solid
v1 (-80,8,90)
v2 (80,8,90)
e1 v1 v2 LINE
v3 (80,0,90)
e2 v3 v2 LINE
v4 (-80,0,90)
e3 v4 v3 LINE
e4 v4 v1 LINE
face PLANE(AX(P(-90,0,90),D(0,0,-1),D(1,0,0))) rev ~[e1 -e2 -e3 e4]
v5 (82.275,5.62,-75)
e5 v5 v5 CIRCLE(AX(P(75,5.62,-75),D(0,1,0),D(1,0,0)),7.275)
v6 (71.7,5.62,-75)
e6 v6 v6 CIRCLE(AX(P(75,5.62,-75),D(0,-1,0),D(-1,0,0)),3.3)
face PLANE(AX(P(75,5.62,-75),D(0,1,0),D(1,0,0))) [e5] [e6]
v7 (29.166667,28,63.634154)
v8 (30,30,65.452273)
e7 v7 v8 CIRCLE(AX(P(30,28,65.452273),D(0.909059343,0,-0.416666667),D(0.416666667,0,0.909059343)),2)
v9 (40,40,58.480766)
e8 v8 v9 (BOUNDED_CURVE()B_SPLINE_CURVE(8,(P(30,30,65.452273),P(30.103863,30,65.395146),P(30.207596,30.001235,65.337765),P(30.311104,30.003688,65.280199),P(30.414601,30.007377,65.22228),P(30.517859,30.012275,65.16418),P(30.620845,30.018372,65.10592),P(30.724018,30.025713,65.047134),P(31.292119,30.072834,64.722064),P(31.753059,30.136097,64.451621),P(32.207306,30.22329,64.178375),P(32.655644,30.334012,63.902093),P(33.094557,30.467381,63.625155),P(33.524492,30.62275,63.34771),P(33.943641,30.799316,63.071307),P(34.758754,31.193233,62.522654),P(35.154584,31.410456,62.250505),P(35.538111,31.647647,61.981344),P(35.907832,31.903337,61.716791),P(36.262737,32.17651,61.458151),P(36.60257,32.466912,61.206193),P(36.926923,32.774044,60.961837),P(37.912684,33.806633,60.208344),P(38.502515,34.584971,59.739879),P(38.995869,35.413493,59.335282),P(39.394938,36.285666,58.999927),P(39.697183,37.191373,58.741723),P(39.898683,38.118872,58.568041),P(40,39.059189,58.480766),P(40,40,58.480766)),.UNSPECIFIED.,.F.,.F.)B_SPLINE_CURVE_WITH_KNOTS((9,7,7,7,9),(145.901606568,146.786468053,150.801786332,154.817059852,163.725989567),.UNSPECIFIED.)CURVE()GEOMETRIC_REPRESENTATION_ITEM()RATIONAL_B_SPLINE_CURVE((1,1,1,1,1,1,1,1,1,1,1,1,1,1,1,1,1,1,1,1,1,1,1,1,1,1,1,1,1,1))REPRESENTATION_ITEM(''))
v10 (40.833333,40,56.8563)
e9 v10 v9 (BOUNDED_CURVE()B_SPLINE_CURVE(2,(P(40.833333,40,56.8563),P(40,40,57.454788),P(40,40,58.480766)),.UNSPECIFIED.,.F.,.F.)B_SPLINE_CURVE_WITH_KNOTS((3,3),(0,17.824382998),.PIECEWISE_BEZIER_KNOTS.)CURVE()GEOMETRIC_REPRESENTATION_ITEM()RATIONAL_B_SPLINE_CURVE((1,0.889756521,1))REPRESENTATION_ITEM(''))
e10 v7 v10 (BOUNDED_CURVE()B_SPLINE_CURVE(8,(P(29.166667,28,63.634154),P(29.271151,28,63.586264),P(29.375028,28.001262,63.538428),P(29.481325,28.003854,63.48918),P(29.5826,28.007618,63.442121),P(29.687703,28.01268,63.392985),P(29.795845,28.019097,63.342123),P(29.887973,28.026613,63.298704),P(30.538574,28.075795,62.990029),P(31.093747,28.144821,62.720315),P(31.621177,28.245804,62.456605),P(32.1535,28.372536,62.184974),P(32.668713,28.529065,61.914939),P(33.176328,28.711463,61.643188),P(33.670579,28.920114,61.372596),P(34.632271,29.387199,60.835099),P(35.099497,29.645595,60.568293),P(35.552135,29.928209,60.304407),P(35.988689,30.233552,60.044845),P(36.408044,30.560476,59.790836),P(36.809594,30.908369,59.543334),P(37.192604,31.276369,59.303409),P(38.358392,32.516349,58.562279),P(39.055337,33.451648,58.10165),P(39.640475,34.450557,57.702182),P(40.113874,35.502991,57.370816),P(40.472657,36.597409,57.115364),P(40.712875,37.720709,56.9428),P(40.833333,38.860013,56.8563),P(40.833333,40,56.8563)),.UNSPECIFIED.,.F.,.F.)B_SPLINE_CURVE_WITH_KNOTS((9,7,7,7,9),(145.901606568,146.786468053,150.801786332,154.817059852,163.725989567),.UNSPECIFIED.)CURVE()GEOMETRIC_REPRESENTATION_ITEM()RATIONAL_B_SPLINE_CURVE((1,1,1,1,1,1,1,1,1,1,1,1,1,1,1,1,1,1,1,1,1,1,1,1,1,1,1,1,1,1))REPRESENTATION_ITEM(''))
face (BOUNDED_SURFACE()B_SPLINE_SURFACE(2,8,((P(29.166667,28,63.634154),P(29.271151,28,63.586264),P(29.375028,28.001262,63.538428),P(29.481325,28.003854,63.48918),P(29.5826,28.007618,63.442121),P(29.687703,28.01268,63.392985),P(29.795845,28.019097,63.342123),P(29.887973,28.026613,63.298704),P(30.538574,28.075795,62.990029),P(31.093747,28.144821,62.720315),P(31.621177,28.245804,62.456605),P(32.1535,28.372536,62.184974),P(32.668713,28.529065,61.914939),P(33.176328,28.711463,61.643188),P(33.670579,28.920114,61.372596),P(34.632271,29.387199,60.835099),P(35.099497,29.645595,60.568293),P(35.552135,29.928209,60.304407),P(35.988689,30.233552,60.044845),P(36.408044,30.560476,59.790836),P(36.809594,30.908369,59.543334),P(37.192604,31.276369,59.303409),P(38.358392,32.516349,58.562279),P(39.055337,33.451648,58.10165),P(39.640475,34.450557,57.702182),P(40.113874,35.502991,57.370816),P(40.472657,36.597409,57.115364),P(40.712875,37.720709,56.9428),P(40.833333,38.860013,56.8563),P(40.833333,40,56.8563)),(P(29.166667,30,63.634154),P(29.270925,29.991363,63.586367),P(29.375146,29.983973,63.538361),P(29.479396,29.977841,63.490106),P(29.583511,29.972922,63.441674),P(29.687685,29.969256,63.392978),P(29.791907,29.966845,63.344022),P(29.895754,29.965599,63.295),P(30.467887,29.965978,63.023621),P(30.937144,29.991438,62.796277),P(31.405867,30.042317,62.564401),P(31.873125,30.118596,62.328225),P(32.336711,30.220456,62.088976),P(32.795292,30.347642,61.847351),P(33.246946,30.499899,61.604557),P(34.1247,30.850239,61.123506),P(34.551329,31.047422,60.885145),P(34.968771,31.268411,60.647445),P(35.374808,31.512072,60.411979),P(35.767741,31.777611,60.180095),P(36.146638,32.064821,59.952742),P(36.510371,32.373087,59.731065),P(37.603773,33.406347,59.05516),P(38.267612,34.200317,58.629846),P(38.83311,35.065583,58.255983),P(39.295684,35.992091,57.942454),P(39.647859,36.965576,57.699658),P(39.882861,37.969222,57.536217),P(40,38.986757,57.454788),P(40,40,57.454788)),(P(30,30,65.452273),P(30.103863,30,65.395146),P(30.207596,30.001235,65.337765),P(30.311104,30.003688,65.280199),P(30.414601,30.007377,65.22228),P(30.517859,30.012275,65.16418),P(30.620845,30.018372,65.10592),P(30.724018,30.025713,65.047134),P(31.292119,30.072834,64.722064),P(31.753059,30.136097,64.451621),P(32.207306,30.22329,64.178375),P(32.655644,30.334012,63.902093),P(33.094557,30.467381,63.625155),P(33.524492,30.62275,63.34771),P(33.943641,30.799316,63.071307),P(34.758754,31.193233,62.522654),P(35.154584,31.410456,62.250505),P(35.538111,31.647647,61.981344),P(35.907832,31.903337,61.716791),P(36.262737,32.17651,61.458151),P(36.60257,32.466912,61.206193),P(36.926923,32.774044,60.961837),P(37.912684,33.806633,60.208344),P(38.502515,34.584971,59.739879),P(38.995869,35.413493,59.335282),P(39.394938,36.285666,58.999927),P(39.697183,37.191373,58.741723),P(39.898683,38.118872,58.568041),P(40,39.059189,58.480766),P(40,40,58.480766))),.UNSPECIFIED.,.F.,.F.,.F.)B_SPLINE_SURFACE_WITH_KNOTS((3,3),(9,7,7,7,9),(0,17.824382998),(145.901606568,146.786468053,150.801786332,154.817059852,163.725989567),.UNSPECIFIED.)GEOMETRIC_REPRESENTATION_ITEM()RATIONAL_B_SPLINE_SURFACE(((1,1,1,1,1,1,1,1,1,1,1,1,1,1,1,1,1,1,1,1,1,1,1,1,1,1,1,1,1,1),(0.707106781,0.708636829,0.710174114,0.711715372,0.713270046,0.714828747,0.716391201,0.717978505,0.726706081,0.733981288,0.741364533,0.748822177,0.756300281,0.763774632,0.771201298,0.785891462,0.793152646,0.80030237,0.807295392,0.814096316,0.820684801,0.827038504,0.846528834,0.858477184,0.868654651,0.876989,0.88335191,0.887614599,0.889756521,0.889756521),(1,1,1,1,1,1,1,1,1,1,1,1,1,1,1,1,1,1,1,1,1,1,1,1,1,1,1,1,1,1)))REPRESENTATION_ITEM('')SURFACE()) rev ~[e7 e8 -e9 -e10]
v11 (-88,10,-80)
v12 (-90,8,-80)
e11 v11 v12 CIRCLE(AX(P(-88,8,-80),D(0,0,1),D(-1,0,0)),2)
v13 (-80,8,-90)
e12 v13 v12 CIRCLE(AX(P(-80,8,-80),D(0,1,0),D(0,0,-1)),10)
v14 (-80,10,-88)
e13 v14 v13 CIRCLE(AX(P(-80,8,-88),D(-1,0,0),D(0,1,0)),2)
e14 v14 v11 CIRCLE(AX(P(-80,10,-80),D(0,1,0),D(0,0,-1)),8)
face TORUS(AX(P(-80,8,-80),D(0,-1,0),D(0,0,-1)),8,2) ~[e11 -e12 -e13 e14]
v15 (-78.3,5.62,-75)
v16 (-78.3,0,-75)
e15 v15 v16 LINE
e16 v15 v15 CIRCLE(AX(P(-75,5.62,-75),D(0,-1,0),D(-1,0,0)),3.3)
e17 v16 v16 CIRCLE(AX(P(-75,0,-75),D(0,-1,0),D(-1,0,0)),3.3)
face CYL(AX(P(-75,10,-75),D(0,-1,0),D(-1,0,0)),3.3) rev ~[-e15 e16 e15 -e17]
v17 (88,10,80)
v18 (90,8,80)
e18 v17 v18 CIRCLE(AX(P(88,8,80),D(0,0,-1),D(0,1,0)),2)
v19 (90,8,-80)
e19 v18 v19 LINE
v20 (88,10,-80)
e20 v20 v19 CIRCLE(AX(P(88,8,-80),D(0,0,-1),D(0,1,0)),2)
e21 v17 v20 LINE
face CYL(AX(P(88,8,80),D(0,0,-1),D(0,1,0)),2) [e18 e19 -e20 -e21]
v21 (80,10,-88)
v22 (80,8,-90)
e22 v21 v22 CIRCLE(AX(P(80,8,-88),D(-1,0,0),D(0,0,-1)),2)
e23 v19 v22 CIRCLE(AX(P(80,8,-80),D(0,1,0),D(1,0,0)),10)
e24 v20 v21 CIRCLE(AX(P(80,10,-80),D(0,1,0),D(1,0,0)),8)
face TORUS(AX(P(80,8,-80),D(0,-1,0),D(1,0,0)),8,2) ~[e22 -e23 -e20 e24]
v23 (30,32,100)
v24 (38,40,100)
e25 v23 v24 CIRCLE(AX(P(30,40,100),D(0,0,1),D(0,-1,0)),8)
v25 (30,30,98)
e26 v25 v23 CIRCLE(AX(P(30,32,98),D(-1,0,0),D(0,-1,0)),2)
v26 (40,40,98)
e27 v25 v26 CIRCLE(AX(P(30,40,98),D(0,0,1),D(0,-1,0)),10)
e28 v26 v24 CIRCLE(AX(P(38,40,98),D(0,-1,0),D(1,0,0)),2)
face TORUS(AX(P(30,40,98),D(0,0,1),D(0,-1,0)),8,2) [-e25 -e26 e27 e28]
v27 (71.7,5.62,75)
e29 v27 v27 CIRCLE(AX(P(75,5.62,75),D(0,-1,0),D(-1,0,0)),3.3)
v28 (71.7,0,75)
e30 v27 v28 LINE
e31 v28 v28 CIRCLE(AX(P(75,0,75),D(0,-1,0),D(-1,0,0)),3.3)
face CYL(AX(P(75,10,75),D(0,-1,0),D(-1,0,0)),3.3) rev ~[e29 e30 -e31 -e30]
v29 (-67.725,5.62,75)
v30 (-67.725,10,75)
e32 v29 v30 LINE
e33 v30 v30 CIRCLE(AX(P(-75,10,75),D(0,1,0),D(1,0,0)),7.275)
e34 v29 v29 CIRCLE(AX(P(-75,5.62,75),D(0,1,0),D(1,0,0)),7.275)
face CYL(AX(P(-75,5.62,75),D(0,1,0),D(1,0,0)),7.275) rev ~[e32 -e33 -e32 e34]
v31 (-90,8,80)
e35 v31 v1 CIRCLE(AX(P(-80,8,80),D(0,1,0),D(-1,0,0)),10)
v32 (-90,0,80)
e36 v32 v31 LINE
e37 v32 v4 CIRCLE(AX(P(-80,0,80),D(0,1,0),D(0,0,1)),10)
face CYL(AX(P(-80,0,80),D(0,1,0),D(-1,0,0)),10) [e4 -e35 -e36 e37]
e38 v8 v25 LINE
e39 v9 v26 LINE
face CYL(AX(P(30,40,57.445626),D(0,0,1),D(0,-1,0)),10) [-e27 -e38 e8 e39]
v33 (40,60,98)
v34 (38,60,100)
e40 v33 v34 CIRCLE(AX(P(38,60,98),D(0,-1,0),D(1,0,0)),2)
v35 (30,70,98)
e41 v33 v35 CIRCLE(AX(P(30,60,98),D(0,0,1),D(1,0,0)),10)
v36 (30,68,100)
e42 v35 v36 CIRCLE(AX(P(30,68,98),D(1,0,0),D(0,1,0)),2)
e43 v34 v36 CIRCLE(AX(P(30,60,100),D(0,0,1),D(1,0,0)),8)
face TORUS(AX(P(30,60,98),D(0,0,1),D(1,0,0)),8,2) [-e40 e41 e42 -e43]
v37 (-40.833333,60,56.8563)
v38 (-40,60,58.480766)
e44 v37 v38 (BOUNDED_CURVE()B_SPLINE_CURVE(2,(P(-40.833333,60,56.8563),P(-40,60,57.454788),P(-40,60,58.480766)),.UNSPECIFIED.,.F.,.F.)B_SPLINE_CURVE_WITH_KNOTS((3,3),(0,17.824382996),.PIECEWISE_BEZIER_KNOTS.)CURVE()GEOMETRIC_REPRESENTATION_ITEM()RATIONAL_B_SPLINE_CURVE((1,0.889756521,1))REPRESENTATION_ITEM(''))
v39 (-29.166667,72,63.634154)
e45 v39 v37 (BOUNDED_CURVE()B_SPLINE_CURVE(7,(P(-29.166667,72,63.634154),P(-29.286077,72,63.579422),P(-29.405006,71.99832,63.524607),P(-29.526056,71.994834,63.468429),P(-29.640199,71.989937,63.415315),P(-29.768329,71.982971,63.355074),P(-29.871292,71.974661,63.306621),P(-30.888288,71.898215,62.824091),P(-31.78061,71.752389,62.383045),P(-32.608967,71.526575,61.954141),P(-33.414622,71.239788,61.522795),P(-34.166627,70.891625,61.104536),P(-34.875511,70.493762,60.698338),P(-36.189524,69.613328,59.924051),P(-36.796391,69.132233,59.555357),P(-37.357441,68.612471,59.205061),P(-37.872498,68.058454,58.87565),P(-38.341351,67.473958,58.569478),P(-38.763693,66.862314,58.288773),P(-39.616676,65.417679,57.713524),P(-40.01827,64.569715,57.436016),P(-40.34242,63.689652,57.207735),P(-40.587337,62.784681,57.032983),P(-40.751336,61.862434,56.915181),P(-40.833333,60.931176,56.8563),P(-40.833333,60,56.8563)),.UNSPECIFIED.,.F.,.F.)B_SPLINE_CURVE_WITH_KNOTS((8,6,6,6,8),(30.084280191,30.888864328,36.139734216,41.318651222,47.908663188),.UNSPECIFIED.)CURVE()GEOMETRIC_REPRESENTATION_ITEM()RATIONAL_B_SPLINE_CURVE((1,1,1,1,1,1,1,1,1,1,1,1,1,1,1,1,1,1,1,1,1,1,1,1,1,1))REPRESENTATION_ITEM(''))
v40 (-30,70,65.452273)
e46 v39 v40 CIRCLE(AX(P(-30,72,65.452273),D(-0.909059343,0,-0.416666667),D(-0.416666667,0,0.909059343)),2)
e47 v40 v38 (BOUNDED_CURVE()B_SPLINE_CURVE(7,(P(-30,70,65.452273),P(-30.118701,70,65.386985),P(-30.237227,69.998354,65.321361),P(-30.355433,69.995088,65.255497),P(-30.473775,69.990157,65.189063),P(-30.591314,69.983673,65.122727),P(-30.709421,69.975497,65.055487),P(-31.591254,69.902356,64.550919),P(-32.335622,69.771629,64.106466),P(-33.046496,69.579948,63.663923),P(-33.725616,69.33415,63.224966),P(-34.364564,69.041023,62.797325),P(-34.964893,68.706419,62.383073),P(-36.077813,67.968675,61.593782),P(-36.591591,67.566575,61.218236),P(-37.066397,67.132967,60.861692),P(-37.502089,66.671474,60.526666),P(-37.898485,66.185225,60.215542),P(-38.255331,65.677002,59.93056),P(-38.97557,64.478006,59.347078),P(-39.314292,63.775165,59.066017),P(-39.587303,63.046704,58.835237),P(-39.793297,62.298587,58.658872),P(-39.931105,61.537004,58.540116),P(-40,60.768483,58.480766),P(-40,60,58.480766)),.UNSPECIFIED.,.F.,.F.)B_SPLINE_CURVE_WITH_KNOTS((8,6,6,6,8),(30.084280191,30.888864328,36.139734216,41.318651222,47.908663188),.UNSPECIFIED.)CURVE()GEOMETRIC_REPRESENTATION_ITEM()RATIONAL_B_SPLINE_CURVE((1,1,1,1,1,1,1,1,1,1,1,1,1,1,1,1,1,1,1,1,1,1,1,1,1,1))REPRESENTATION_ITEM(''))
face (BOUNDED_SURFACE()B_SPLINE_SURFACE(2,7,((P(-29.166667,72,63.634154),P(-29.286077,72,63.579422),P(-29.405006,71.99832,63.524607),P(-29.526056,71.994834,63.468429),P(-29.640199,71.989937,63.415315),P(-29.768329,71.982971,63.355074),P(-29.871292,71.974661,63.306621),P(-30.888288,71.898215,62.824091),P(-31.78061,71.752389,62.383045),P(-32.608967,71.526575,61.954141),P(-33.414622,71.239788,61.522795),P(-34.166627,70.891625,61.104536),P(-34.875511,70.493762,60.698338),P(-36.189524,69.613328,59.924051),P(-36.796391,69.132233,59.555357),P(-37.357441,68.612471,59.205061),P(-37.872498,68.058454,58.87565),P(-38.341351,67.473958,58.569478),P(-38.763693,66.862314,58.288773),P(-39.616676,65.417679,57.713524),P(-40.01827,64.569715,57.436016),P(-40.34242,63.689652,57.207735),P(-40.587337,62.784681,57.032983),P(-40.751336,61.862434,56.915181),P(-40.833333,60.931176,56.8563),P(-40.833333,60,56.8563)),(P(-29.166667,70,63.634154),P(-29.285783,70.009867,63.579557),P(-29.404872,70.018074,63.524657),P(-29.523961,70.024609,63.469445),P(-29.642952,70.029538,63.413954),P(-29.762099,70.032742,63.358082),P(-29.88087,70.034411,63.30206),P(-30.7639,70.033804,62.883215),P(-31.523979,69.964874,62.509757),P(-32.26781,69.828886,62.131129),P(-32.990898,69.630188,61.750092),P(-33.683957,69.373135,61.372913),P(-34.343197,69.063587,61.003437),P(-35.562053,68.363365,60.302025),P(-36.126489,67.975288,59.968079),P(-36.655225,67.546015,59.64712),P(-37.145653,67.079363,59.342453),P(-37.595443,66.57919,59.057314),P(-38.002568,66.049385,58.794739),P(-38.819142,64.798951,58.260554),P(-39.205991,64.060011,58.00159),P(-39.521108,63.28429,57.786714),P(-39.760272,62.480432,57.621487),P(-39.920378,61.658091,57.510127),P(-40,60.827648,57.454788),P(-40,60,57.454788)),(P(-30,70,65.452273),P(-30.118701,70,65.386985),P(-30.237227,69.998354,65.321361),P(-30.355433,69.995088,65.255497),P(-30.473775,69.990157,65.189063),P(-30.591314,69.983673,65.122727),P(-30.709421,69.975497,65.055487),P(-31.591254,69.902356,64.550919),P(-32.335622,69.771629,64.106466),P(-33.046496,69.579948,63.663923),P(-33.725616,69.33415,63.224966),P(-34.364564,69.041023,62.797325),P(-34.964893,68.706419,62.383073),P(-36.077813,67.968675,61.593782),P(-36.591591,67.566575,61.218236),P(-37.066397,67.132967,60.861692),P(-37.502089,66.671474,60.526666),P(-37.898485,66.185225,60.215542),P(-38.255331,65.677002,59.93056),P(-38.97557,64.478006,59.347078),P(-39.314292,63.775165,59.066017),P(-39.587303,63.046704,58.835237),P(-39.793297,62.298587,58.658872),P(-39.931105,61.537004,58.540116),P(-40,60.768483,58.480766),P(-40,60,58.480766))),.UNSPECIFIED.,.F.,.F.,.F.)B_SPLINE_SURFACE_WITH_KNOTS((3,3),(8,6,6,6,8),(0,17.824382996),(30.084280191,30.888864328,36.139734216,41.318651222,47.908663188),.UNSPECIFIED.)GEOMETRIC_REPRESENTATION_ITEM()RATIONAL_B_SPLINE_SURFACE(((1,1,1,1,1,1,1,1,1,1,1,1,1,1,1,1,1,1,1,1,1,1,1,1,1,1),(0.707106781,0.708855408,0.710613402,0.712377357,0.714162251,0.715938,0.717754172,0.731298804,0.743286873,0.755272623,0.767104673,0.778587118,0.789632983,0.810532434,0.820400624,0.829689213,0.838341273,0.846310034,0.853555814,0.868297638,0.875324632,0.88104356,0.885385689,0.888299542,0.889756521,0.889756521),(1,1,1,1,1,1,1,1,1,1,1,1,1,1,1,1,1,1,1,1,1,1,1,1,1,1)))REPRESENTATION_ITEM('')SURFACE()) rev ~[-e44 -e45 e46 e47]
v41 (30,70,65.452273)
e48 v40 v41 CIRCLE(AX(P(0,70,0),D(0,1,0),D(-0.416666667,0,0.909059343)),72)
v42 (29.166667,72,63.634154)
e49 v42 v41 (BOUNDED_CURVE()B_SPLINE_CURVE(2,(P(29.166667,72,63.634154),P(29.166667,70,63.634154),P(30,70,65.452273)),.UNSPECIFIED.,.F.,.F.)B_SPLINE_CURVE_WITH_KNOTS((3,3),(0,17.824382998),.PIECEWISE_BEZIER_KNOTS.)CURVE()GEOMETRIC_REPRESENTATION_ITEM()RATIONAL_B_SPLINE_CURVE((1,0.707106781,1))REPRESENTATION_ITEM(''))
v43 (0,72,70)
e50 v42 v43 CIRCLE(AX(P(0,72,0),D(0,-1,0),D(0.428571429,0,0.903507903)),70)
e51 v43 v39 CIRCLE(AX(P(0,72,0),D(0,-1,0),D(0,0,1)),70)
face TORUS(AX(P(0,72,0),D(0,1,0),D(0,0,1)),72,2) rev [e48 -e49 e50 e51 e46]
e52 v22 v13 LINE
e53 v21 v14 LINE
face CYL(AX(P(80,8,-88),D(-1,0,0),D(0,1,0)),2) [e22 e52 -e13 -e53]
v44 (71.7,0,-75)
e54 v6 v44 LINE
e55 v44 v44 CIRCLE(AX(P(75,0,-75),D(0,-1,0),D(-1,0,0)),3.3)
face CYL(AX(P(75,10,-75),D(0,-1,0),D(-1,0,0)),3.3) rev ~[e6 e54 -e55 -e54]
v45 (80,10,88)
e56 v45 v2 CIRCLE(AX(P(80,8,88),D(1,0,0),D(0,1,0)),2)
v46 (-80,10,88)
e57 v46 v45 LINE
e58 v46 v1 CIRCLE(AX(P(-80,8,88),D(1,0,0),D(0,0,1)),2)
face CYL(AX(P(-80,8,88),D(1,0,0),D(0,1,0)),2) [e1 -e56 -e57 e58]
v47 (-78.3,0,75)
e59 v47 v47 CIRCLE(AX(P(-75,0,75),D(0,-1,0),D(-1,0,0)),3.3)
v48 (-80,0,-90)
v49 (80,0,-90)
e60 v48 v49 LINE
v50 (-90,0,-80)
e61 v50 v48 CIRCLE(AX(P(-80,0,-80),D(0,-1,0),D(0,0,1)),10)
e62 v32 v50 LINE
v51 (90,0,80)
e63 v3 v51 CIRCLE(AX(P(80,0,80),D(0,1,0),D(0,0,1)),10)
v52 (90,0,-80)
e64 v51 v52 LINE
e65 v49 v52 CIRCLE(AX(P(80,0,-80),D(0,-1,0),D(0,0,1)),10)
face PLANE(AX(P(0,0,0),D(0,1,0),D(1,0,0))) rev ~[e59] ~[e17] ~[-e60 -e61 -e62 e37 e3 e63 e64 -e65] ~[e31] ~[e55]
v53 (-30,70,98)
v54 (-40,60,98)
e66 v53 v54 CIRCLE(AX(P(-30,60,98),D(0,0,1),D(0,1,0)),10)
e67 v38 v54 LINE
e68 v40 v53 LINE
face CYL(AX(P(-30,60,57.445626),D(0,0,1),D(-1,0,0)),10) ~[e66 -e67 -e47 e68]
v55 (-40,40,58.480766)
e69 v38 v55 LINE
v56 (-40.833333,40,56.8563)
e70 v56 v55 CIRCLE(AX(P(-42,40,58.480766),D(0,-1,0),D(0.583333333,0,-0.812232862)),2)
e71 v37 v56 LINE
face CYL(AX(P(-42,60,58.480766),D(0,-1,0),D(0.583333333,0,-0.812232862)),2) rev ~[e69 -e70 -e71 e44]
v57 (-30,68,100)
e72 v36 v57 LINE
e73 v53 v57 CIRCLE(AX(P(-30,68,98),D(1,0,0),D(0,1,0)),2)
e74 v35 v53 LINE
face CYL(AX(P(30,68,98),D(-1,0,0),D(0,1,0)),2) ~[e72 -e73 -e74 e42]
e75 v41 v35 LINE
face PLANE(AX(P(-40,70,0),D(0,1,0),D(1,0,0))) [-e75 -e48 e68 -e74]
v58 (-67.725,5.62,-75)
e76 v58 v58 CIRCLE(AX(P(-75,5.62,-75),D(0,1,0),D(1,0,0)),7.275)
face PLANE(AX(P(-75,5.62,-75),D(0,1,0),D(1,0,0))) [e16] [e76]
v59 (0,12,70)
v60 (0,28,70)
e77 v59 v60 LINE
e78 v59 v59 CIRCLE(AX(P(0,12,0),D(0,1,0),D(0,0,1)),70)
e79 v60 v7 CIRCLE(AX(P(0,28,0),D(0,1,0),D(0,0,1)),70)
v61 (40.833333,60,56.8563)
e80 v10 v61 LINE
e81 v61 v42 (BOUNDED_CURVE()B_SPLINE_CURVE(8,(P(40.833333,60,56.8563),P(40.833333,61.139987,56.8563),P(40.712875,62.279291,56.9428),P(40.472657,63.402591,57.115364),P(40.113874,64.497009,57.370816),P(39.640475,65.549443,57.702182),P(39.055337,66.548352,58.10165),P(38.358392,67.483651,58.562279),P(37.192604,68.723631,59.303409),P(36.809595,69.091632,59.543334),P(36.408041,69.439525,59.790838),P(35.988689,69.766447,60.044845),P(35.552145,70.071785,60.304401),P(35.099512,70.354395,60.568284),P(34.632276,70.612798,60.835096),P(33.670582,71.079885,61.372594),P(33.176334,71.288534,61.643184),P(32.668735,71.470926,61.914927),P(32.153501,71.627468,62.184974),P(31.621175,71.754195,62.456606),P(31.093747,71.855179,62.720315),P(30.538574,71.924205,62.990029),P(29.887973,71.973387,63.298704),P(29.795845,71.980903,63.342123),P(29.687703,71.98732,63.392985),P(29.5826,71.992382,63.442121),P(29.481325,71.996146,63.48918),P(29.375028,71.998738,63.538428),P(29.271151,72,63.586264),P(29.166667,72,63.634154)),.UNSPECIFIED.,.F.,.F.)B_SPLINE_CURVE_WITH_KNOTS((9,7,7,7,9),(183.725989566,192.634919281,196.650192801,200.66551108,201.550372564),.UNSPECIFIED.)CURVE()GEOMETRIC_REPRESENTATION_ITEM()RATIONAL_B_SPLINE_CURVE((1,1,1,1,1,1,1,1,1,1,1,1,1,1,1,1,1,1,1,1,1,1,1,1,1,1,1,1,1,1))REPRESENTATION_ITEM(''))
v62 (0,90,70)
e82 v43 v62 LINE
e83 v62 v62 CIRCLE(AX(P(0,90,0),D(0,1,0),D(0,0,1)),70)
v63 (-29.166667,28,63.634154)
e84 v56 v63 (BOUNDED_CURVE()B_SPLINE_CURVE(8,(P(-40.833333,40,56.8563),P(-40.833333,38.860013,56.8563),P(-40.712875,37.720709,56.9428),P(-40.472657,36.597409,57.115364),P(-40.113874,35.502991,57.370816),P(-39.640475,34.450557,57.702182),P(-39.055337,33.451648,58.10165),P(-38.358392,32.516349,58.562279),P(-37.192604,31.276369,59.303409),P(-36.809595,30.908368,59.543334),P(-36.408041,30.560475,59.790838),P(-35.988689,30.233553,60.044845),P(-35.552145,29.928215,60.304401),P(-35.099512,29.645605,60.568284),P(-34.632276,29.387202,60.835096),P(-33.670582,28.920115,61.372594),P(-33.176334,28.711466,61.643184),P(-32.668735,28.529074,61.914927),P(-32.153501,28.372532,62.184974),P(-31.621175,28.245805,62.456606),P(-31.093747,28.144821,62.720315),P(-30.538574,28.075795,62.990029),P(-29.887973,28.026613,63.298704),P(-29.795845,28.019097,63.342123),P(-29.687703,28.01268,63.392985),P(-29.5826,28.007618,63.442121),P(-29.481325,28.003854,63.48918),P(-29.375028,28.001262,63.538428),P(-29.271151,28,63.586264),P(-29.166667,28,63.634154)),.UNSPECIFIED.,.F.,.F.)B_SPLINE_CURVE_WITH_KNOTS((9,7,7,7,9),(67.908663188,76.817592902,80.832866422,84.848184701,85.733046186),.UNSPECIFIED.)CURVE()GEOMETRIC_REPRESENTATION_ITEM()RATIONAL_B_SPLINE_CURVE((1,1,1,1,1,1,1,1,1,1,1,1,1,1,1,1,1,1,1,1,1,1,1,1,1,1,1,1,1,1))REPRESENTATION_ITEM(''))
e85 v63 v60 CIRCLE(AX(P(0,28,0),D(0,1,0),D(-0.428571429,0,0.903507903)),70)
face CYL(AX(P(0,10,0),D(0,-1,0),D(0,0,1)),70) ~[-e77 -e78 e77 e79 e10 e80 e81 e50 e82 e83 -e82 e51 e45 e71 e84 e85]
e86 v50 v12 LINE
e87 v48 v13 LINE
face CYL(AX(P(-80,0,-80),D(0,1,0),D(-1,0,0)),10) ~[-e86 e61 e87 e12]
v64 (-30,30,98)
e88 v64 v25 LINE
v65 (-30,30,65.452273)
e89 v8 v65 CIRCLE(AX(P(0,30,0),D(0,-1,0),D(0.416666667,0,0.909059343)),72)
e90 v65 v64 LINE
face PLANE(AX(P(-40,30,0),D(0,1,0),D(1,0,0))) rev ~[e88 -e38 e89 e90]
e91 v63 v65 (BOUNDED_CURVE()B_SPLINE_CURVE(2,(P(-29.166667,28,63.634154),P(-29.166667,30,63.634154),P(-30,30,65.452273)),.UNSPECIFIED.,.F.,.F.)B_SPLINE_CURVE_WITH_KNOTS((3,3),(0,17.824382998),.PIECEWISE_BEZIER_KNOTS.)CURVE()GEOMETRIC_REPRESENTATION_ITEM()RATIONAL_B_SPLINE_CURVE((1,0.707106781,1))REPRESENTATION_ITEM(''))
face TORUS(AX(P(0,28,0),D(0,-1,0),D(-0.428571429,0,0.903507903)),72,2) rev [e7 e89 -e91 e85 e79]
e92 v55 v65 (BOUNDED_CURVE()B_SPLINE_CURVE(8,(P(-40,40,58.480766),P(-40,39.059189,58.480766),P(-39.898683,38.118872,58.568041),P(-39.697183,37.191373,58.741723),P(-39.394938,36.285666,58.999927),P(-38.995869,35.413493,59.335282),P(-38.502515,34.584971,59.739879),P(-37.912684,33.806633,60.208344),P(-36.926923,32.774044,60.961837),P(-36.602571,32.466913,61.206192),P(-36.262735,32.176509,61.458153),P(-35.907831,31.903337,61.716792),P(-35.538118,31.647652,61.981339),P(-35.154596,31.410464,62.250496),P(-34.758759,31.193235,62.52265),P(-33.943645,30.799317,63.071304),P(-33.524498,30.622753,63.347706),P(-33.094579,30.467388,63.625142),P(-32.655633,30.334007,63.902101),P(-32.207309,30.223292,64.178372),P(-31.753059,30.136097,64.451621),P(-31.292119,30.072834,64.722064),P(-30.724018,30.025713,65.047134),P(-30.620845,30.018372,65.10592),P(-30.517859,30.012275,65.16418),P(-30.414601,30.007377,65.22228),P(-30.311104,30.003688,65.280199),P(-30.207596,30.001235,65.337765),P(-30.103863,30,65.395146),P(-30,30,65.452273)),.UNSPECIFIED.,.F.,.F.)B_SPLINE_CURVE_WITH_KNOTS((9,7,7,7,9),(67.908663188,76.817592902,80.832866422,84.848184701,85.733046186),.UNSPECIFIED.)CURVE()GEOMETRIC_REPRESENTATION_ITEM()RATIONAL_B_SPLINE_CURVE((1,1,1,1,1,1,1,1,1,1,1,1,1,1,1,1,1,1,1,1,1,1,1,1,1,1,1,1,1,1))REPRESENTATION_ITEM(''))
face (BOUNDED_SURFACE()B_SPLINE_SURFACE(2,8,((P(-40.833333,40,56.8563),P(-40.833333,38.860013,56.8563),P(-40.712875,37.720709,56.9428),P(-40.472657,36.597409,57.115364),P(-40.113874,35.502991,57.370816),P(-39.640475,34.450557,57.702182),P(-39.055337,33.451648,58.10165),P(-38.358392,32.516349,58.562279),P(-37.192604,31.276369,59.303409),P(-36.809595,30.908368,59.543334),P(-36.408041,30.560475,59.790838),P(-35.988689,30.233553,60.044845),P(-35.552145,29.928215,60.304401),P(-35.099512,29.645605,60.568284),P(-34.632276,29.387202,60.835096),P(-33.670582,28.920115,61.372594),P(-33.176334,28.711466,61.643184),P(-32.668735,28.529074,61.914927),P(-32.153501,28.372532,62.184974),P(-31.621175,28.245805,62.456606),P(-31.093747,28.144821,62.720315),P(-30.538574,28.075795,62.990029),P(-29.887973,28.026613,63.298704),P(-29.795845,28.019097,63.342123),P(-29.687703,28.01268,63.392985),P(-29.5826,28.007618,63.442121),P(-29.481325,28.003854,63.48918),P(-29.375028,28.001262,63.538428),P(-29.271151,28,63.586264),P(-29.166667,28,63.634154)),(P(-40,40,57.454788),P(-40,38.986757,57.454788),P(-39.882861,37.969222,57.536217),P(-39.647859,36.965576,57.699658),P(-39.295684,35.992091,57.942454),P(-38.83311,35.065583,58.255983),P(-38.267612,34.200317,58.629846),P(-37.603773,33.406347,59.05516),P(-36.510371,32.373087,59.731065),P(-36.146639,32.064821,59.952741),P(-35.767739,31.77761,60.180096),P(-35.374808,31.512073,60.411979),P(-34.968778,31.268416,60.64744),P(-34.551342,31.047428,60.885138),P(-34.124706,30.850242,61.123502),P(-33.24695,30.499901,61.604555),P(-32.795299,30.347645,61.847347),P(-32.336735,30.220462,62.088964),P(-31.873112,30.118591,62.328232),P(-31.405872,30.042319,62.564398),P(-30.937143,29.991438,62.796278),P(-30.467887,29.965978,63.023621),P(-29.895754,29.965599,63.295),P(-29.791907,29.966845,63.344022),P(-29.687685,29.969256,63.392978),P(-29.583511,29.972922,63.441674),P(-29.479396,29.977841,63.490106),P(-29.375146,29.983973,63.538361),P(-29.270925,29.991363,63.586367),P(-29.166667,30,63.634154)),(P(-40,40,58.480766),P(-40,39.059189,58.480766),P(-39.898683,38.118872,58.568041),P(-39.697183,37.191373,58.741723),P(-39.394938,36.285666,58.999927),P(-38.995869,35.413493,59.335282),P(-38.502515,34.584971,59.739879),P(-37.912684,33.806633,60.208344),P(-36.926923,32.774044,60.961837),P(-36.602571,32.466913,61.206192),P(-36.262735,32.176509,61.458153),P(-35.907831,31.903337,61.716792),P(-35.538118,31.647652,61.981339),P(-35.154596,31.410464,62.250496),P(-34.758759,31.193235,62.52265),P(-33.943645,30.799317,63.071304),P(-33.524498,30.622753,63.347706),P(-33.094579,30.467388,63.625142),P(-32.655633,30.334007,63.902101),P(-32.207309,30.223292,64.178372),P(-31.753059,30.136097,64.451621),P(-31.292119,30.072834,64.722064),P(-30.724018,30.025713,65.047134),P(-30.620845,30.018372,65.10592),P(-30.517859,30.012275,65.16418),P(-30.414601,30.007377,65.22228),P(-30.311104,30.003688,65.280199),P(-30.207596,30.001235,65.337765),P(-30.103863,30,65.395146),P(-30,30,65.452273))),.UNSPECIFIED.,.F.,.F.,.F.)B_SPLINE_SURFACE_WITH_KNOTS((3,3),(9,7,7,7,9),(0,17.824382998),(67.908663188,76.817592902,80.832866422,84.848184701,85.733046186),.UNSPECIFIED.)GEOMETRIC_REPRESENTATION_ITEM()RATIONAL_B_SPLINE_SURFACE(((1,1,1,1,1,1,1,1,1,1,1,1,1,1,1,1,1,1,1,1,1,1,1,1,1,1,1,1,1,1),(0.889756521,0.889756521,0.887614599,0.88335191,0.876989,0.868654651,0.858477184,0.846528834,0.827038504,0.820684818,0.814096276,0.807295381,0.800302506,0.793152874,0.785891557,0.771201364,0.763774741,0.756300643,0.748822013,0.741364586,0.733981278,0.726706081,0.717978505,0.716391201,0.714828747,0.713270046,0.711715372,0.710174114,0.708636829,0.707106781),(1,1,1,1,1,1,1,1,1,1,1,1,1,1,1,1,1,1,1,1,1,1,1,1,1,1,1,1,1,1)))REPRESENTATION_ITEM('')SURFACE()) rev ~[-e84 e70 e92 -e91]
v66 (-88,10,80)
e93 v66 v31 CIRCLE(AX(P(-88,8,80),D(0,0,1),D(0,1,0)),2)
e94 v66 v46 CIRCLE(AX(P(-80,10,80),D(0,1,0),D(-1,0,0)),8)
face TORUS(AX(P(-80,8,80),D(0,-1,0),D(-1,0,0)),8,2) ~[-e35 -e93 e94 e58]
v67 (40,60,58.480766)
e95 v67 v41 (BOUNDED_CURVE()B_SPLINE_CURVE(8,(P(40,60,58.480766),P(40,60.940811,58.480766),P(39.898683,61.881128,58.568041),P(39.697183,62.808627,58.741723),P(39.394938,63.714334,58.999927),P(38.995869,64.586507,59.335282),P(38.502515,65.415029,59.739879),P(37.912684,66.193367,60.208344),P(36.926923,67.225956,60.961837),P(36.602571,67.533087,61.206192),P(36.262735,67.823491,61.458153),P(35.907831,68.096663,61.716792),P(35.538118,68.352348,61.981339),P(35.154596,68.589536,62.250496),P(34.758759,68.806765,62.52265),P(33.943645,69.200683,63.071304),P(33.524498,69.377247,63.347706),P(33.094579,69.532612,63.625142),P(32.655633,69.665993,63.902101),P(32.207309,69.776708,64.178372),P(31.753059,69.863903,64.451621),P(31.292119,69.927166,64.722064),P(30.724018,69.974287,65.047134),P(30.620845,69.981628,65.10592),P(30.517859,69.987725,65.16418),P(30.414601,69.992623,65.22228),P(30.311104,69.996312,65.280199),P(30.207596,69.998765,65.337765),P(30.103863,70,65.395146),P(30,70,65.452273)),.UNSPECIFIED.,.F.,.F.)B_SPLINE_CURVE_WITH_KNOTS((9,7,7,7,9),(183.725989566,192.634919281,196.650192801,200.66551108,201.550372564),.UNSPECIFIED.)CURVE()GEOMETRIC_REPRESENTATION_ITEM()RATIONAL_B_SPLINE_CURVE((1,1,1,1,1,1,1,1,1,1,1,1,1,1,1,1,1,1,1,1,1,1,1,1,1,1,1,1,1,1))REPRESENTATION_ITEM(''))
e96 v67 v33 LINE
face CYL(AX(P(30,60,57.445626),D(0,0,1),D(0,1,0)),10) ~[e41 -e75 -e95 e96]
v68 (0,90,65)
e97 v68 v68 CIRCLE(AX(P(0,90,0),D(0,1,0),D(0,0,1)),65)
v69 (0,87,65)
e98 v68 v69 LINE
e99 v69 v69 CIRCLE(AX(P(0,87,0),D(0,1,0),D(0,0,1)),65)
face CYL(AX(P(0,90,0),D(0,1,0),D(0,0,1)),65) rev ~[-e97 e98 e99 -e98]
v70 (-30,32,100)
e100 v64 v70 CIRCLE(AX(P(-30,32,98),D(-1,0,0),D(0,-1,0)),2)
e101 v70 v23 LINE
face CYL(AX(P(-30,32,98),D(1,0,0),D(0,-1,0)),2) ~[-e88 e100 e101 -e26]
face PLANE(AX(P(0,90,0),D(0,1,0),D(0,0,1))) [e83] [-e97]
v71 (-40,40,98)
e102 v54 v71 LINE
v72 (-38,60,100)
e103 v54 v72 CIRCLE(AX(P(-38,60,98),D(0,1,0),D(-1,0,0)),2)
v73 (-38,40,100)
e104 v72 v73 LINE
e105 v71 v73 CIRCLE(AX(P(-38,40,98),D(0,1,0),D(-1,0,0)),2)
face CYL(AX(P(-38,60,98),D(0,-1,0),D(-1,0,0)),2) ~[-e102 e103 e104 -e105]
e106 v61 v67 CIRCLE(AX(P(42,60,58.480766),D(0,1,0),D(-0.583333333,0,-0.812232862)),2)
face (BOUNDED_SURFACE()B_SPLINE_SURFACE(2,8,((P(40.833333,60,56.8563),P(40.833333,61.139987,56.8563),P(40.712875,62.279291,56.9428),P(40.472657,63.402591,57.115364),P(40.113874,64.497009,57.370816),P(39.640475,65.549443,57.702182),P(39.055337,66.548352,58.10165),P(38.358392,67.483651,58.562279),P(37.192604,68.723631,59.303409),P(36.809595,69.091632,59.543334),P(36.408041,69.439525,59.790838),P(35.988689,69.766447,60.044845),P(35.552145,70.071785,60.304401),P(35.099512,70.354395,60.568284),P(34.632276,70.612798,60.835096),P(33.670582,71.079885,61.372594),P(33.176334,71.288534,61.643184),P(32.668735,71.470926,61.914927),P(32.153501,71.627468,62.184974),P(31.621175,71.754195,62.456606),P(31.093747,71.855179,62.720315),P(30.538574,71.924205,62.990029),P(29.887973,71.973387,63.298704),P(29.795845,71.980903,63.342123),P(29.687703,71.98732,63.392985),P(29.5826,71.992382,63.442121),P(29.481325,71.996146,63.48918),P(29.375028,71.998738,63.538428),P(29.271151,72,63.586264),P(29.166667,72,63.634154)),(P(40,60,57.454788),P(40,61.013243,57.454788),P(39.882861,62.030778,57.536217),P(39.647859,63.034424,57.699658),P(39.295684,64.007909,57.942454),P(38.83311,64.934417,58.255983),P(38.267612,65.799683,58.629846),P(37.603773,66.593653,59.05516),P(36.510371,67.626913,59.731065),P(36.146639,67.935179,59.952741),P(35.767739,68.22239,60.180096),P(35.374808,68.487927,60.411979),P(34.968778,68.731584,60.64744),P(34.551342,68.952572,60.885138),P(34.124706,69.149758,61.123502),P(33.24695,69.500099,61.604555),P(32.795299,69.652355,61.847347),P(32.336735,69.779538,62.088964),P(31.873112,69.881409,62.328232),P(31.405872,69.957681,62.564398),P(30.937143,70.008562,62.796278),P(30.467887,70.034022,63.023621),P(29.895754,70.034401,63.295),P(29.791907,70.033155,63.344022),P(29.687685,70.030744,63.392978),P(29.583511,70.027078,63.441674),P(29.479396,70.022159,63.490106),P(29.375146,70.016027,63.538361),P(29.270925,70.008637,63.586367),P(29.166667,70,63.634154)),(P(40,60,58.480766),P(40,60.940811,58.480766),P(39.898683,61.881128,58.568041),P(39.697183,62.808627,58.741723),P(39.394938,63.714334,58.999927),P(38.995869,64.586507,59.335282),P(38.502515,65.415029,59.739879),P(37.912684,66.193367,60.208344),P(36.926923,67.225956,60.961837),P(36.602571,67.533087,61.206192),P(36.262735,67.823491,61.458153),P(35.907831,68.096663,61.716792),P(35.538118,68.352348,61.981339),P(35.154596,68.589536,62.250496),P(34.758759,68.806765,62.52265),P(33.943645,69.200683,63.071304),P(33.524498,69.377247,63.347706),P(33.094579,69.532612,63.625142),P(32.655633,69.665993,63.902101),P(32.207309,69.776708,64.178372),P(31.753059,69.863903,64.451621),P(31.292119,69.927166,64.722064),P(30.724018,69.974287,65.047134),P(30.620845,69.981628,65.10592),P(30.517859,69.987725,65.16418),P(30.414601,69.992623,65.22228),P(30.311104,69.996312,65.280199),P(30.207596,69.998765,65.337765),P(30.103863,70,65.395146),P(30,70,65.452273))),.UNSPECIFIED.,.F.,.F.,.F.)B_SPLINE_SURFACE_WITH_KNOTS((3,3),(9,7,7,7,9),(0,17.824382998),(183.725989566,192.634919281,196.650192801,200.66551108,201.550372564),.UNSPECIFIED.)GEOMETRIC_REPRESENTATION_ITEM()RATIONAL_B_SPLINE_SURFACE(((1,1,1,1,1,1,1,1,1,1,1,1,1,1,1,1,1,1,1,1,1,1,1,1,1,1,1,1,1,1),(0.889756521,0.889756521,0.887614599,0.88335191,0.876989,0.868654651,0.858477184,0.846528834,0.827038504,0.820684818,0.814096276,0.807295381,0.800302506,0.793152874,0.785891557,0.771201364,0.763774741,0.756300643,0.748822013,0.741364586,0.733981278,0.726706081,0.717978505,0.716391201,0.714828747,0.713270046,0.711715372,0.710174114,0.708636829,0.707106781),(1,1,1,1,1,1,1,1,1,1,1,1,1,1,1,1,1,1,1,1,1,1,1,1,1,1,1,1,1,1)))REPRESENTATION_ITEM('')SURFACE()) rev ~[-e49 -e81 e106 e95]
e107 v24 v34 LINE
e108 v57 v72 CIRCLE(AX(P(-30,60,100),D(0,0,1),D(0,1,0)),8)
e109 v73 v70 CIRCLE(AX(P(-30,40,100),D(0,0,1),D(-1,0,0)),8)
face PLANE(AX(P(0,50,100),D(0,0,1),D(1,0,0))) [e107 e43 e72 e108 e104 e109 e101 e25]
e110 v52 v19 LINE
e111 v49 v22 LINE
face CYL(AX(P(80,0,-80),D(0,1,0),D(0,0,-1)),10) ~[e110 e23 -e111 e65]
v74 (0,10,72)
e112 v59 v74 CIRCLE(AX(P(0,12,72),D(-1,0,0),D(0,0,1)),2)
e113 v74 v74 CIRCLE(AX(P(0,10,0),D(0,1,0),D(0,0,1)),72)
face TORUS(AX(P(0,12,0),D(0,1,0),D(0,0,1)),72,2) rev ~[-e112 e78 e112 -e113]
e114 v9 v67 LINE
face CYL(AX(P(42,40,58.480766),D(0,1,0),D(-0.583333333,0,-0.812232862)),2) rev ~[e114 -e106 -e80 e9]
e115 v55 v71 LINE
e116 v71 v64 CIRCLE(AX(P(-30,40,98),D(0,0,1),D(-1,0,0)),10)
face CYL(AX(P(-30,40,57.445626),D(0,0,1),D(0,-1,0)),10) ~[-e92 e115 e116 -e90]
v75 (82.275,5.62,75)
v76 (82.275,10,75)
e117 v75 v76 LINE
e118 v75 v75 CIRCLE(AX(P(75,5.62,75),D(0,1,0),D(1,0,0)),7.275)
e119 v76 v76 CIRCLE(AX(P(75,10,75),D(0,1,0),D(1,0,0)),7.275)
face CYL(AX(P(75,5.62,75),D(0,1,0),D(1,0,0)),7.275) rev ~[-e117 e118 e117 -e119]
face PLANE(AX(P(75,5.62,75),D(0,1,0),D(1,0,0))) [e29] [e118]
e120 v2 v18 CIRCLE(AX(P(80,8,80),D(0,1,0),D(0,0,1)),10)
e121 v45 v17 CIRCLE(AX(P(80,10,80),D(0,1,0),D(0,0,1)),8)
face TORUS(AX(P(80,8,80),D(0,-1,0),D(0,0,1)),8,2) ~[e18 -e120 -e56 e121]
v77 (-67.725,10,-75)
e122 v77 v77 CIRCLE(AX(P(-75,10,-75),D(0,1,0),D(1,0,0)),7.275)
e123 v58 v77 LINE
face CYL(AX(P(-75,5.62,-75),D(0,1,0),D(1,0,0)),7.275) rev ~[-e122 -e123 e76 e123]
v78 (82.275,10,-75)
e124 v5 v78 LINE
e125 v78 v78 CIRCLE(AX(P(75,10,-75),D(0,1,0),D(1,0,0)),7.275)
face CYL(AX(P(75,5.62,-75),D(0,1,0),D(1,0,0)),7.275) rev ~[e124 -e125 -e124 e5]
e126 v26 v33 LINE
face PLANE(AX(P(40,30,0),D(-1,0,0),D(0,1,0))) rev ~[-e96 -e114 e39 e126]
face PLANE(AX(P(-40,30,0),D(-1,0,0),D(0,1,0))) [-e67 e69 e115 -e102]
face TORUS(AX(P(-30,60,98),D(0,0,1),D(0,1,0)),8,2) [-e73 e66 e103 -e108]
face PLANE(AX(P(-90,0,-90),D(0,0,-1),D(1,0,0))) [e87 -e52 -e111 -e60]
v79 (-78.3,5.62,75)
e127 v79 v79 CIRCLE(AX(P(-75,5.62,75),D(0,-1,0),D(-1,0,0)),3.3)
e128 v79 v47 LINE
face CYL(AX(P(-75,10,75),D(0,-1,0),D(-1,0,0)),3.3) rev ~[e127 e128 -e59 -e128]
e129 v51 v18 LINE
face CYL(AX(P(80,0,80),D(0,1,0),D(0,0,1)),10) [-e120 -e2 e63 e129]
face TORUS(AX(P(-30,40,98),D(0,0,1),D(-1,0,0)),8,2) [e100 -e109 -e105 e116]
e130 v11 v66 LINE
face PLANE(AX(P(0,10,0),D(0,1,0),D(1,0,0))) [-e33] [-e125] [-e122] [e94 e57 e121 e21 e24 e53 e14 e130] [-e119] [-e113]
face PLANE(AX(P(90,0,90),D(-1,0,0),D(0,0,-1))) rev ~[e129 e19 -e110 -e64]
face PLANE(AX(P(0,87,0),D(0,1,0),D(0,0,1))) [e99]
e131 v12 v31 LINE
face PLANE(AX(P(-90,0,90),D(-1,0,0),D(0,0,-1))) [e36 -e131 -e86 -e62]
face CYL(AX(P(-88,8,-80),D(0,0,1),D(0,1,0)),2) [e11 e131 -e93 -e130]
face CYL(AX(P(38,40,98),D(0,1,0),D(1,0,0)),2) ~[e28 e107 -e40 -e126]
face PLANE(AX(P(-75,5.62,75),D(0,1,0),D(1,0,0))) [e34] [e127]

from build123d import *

# Parameters (mm, degrees)
SKETCH4_W                               = 180
SKETCH4_H                               = 180
BOSS_EXTRUDE2_DEPTH                     = 10
SKETCH5_R                               = 70
BOSS_EXTRUDE3_DEPTH                     = 80
SKETCH6_W                               = 80
SKETCH6_H                               = 40
BOSS_EXTRUDE4_DEPTH                     = 100
SKETCH7_R                               = 65
CUT_EXTRUDE1_DEPTH                      = 3
CBORE_FOR_M6_HEX_HEAD_BOLT2_D           = 6.6
CBORE_FOR_M6_HEX_HEAD_BOLT2_CBORE_D     = 14.55
CBORE_FOR_M6_HEX_HEAD_BOLT2_CBORE_DEPTH = 4.38
FILLET1_R                               = 10
FILLET2_R                               = 10
FILLET3_R                               = 2


with BuildPart() as part:
    # Sketch4 → Boss-Extrude2 (new body)
    with BuildSketch(Plane(origin=(0, 0, 0), x_dir=(1, 0, 0), z_dir=(0, 1, 0))):
        Rectangle(SKETCH4_W, SKETCH4_H)
    extrude(amount=BOSS_EXTRUDE2_DEPTH)

    # Sketch5 → Boss-Extrude3 (add)
    with BuildSketch(Plane(origin=(0, 10, 0), x_dir=(1, 0, 0), z_dir=(0, 1, 0))):
        with Locations(Location((0, 0, 0), (0, 0, 270))):
            Circle(SKETCH5_R)
    extrude(amount=BOSS_EXTRUDE3_DEPTH)

    # Sketch6 → Boss-Extrude4 (add)
    with BuildSketch(Plane.XY):
        with Locations((0, 50)):
            Rectangle(SKETCH6_W, SKETCH6_H)
    extrude(amount=BOSS_EXTRUDE4_DEPTH)

    # Sketch7 → Cut-Extrude1 (cut)
    with BuildSketch(Plane(origin=(0, 90, 0), x_dir=(1, 0, 0), z_dir=(0, 1, 0))):
        with Locations(Location((0, 0, 0), (0, 0, 270))):
            Circle(SKETCH7_R)
    extrude(amount=-CUT_EXTRUDE1_DEPTH, mode=Mode.SUBTRACT)

    # CBORE for M6 Hex Head Bolt2 (through all)
    with Locations(Plane(origin=(0, 10, 0), x_dir=(1, 0, 0), z_dir=(0, 1, 0))):
        with Locations((-75, 75), (75, 75), (75, -75), (-75, -75)):
            CounterBoreHole(CBORE_FOR_M6_HEX_HEAD_BOLT2_D / 2, CBORE_FOR_M6_HEX_HEAD_BOLT2_CBORE_D / 2, CBORE_FOR_M6_HEX_HEAD_BOLT2_CBORE_DEPTH)

    # Fillet1
    fillet1_edges = [part.edges().sort_by_distance(p)[0] for p in [
        (90, 5, 90),
        (-90, 5, 90),
        (-90, 5, -90),
        (90, 5, -90),
    ]]
    fillet(fillet1_edges, radius=FILLET1_R)

    # Fillet2
    fillet2_edges = [part.edges().sort_by_distance(p)[0] for p in [
        (-40, 70, 78.722813233),
        (40, 30, 78.722813233),
        (-40, 30, 78.722813233),
        (40, 70, 78.722813233),
    ]]
    fillet(fillet2_edges, radius=FILLET2_R)

    # Fillet3
    fillet3_edges = [part.edges().sort_by_distance(p)[0] for p in [
        (-15.375488216, 70, 68.290514437),
        (-36.872641972, 32.735924536, 59.501330019),
        (36.872641972, 32.735924536, 59.501330019),
        (-36.872641975, 67.264075467, 59.501330017),
        (36.872641972, 67.264075464, 59.501330019),
        (0, 10, -70),
        (90, 10, 0),
        (0, 10, 90),
        (0, 10, -90),
        (-90, 10, 0),
        (-87.071067812, 10, 87.071067812),
        (87.071067812, 10, -87.071067812),
        (-87.071067812, 10, -87.071067812),
        (87.071067812, 10, 87.071067812),
        (15.375488216, 30, 68.290514437),
        (0, 30, 100),
        (-40, 50, 57.445626465),
        (-40, 50, 100),
        (40, 50, 100),
        (0, 70, 100),
        (37.071067812, 67.071067812, 100),
        (-37.071067812, 67.071067812, 100),
        (37.071067812, 32.928932188, 100),
        (-37.071067812, 32.928932188, 100),
        (40, 50, 57.445626465),
    ]]
    fillet(fillet3_edges, radius=FILLET3_R)


solid = part.part
